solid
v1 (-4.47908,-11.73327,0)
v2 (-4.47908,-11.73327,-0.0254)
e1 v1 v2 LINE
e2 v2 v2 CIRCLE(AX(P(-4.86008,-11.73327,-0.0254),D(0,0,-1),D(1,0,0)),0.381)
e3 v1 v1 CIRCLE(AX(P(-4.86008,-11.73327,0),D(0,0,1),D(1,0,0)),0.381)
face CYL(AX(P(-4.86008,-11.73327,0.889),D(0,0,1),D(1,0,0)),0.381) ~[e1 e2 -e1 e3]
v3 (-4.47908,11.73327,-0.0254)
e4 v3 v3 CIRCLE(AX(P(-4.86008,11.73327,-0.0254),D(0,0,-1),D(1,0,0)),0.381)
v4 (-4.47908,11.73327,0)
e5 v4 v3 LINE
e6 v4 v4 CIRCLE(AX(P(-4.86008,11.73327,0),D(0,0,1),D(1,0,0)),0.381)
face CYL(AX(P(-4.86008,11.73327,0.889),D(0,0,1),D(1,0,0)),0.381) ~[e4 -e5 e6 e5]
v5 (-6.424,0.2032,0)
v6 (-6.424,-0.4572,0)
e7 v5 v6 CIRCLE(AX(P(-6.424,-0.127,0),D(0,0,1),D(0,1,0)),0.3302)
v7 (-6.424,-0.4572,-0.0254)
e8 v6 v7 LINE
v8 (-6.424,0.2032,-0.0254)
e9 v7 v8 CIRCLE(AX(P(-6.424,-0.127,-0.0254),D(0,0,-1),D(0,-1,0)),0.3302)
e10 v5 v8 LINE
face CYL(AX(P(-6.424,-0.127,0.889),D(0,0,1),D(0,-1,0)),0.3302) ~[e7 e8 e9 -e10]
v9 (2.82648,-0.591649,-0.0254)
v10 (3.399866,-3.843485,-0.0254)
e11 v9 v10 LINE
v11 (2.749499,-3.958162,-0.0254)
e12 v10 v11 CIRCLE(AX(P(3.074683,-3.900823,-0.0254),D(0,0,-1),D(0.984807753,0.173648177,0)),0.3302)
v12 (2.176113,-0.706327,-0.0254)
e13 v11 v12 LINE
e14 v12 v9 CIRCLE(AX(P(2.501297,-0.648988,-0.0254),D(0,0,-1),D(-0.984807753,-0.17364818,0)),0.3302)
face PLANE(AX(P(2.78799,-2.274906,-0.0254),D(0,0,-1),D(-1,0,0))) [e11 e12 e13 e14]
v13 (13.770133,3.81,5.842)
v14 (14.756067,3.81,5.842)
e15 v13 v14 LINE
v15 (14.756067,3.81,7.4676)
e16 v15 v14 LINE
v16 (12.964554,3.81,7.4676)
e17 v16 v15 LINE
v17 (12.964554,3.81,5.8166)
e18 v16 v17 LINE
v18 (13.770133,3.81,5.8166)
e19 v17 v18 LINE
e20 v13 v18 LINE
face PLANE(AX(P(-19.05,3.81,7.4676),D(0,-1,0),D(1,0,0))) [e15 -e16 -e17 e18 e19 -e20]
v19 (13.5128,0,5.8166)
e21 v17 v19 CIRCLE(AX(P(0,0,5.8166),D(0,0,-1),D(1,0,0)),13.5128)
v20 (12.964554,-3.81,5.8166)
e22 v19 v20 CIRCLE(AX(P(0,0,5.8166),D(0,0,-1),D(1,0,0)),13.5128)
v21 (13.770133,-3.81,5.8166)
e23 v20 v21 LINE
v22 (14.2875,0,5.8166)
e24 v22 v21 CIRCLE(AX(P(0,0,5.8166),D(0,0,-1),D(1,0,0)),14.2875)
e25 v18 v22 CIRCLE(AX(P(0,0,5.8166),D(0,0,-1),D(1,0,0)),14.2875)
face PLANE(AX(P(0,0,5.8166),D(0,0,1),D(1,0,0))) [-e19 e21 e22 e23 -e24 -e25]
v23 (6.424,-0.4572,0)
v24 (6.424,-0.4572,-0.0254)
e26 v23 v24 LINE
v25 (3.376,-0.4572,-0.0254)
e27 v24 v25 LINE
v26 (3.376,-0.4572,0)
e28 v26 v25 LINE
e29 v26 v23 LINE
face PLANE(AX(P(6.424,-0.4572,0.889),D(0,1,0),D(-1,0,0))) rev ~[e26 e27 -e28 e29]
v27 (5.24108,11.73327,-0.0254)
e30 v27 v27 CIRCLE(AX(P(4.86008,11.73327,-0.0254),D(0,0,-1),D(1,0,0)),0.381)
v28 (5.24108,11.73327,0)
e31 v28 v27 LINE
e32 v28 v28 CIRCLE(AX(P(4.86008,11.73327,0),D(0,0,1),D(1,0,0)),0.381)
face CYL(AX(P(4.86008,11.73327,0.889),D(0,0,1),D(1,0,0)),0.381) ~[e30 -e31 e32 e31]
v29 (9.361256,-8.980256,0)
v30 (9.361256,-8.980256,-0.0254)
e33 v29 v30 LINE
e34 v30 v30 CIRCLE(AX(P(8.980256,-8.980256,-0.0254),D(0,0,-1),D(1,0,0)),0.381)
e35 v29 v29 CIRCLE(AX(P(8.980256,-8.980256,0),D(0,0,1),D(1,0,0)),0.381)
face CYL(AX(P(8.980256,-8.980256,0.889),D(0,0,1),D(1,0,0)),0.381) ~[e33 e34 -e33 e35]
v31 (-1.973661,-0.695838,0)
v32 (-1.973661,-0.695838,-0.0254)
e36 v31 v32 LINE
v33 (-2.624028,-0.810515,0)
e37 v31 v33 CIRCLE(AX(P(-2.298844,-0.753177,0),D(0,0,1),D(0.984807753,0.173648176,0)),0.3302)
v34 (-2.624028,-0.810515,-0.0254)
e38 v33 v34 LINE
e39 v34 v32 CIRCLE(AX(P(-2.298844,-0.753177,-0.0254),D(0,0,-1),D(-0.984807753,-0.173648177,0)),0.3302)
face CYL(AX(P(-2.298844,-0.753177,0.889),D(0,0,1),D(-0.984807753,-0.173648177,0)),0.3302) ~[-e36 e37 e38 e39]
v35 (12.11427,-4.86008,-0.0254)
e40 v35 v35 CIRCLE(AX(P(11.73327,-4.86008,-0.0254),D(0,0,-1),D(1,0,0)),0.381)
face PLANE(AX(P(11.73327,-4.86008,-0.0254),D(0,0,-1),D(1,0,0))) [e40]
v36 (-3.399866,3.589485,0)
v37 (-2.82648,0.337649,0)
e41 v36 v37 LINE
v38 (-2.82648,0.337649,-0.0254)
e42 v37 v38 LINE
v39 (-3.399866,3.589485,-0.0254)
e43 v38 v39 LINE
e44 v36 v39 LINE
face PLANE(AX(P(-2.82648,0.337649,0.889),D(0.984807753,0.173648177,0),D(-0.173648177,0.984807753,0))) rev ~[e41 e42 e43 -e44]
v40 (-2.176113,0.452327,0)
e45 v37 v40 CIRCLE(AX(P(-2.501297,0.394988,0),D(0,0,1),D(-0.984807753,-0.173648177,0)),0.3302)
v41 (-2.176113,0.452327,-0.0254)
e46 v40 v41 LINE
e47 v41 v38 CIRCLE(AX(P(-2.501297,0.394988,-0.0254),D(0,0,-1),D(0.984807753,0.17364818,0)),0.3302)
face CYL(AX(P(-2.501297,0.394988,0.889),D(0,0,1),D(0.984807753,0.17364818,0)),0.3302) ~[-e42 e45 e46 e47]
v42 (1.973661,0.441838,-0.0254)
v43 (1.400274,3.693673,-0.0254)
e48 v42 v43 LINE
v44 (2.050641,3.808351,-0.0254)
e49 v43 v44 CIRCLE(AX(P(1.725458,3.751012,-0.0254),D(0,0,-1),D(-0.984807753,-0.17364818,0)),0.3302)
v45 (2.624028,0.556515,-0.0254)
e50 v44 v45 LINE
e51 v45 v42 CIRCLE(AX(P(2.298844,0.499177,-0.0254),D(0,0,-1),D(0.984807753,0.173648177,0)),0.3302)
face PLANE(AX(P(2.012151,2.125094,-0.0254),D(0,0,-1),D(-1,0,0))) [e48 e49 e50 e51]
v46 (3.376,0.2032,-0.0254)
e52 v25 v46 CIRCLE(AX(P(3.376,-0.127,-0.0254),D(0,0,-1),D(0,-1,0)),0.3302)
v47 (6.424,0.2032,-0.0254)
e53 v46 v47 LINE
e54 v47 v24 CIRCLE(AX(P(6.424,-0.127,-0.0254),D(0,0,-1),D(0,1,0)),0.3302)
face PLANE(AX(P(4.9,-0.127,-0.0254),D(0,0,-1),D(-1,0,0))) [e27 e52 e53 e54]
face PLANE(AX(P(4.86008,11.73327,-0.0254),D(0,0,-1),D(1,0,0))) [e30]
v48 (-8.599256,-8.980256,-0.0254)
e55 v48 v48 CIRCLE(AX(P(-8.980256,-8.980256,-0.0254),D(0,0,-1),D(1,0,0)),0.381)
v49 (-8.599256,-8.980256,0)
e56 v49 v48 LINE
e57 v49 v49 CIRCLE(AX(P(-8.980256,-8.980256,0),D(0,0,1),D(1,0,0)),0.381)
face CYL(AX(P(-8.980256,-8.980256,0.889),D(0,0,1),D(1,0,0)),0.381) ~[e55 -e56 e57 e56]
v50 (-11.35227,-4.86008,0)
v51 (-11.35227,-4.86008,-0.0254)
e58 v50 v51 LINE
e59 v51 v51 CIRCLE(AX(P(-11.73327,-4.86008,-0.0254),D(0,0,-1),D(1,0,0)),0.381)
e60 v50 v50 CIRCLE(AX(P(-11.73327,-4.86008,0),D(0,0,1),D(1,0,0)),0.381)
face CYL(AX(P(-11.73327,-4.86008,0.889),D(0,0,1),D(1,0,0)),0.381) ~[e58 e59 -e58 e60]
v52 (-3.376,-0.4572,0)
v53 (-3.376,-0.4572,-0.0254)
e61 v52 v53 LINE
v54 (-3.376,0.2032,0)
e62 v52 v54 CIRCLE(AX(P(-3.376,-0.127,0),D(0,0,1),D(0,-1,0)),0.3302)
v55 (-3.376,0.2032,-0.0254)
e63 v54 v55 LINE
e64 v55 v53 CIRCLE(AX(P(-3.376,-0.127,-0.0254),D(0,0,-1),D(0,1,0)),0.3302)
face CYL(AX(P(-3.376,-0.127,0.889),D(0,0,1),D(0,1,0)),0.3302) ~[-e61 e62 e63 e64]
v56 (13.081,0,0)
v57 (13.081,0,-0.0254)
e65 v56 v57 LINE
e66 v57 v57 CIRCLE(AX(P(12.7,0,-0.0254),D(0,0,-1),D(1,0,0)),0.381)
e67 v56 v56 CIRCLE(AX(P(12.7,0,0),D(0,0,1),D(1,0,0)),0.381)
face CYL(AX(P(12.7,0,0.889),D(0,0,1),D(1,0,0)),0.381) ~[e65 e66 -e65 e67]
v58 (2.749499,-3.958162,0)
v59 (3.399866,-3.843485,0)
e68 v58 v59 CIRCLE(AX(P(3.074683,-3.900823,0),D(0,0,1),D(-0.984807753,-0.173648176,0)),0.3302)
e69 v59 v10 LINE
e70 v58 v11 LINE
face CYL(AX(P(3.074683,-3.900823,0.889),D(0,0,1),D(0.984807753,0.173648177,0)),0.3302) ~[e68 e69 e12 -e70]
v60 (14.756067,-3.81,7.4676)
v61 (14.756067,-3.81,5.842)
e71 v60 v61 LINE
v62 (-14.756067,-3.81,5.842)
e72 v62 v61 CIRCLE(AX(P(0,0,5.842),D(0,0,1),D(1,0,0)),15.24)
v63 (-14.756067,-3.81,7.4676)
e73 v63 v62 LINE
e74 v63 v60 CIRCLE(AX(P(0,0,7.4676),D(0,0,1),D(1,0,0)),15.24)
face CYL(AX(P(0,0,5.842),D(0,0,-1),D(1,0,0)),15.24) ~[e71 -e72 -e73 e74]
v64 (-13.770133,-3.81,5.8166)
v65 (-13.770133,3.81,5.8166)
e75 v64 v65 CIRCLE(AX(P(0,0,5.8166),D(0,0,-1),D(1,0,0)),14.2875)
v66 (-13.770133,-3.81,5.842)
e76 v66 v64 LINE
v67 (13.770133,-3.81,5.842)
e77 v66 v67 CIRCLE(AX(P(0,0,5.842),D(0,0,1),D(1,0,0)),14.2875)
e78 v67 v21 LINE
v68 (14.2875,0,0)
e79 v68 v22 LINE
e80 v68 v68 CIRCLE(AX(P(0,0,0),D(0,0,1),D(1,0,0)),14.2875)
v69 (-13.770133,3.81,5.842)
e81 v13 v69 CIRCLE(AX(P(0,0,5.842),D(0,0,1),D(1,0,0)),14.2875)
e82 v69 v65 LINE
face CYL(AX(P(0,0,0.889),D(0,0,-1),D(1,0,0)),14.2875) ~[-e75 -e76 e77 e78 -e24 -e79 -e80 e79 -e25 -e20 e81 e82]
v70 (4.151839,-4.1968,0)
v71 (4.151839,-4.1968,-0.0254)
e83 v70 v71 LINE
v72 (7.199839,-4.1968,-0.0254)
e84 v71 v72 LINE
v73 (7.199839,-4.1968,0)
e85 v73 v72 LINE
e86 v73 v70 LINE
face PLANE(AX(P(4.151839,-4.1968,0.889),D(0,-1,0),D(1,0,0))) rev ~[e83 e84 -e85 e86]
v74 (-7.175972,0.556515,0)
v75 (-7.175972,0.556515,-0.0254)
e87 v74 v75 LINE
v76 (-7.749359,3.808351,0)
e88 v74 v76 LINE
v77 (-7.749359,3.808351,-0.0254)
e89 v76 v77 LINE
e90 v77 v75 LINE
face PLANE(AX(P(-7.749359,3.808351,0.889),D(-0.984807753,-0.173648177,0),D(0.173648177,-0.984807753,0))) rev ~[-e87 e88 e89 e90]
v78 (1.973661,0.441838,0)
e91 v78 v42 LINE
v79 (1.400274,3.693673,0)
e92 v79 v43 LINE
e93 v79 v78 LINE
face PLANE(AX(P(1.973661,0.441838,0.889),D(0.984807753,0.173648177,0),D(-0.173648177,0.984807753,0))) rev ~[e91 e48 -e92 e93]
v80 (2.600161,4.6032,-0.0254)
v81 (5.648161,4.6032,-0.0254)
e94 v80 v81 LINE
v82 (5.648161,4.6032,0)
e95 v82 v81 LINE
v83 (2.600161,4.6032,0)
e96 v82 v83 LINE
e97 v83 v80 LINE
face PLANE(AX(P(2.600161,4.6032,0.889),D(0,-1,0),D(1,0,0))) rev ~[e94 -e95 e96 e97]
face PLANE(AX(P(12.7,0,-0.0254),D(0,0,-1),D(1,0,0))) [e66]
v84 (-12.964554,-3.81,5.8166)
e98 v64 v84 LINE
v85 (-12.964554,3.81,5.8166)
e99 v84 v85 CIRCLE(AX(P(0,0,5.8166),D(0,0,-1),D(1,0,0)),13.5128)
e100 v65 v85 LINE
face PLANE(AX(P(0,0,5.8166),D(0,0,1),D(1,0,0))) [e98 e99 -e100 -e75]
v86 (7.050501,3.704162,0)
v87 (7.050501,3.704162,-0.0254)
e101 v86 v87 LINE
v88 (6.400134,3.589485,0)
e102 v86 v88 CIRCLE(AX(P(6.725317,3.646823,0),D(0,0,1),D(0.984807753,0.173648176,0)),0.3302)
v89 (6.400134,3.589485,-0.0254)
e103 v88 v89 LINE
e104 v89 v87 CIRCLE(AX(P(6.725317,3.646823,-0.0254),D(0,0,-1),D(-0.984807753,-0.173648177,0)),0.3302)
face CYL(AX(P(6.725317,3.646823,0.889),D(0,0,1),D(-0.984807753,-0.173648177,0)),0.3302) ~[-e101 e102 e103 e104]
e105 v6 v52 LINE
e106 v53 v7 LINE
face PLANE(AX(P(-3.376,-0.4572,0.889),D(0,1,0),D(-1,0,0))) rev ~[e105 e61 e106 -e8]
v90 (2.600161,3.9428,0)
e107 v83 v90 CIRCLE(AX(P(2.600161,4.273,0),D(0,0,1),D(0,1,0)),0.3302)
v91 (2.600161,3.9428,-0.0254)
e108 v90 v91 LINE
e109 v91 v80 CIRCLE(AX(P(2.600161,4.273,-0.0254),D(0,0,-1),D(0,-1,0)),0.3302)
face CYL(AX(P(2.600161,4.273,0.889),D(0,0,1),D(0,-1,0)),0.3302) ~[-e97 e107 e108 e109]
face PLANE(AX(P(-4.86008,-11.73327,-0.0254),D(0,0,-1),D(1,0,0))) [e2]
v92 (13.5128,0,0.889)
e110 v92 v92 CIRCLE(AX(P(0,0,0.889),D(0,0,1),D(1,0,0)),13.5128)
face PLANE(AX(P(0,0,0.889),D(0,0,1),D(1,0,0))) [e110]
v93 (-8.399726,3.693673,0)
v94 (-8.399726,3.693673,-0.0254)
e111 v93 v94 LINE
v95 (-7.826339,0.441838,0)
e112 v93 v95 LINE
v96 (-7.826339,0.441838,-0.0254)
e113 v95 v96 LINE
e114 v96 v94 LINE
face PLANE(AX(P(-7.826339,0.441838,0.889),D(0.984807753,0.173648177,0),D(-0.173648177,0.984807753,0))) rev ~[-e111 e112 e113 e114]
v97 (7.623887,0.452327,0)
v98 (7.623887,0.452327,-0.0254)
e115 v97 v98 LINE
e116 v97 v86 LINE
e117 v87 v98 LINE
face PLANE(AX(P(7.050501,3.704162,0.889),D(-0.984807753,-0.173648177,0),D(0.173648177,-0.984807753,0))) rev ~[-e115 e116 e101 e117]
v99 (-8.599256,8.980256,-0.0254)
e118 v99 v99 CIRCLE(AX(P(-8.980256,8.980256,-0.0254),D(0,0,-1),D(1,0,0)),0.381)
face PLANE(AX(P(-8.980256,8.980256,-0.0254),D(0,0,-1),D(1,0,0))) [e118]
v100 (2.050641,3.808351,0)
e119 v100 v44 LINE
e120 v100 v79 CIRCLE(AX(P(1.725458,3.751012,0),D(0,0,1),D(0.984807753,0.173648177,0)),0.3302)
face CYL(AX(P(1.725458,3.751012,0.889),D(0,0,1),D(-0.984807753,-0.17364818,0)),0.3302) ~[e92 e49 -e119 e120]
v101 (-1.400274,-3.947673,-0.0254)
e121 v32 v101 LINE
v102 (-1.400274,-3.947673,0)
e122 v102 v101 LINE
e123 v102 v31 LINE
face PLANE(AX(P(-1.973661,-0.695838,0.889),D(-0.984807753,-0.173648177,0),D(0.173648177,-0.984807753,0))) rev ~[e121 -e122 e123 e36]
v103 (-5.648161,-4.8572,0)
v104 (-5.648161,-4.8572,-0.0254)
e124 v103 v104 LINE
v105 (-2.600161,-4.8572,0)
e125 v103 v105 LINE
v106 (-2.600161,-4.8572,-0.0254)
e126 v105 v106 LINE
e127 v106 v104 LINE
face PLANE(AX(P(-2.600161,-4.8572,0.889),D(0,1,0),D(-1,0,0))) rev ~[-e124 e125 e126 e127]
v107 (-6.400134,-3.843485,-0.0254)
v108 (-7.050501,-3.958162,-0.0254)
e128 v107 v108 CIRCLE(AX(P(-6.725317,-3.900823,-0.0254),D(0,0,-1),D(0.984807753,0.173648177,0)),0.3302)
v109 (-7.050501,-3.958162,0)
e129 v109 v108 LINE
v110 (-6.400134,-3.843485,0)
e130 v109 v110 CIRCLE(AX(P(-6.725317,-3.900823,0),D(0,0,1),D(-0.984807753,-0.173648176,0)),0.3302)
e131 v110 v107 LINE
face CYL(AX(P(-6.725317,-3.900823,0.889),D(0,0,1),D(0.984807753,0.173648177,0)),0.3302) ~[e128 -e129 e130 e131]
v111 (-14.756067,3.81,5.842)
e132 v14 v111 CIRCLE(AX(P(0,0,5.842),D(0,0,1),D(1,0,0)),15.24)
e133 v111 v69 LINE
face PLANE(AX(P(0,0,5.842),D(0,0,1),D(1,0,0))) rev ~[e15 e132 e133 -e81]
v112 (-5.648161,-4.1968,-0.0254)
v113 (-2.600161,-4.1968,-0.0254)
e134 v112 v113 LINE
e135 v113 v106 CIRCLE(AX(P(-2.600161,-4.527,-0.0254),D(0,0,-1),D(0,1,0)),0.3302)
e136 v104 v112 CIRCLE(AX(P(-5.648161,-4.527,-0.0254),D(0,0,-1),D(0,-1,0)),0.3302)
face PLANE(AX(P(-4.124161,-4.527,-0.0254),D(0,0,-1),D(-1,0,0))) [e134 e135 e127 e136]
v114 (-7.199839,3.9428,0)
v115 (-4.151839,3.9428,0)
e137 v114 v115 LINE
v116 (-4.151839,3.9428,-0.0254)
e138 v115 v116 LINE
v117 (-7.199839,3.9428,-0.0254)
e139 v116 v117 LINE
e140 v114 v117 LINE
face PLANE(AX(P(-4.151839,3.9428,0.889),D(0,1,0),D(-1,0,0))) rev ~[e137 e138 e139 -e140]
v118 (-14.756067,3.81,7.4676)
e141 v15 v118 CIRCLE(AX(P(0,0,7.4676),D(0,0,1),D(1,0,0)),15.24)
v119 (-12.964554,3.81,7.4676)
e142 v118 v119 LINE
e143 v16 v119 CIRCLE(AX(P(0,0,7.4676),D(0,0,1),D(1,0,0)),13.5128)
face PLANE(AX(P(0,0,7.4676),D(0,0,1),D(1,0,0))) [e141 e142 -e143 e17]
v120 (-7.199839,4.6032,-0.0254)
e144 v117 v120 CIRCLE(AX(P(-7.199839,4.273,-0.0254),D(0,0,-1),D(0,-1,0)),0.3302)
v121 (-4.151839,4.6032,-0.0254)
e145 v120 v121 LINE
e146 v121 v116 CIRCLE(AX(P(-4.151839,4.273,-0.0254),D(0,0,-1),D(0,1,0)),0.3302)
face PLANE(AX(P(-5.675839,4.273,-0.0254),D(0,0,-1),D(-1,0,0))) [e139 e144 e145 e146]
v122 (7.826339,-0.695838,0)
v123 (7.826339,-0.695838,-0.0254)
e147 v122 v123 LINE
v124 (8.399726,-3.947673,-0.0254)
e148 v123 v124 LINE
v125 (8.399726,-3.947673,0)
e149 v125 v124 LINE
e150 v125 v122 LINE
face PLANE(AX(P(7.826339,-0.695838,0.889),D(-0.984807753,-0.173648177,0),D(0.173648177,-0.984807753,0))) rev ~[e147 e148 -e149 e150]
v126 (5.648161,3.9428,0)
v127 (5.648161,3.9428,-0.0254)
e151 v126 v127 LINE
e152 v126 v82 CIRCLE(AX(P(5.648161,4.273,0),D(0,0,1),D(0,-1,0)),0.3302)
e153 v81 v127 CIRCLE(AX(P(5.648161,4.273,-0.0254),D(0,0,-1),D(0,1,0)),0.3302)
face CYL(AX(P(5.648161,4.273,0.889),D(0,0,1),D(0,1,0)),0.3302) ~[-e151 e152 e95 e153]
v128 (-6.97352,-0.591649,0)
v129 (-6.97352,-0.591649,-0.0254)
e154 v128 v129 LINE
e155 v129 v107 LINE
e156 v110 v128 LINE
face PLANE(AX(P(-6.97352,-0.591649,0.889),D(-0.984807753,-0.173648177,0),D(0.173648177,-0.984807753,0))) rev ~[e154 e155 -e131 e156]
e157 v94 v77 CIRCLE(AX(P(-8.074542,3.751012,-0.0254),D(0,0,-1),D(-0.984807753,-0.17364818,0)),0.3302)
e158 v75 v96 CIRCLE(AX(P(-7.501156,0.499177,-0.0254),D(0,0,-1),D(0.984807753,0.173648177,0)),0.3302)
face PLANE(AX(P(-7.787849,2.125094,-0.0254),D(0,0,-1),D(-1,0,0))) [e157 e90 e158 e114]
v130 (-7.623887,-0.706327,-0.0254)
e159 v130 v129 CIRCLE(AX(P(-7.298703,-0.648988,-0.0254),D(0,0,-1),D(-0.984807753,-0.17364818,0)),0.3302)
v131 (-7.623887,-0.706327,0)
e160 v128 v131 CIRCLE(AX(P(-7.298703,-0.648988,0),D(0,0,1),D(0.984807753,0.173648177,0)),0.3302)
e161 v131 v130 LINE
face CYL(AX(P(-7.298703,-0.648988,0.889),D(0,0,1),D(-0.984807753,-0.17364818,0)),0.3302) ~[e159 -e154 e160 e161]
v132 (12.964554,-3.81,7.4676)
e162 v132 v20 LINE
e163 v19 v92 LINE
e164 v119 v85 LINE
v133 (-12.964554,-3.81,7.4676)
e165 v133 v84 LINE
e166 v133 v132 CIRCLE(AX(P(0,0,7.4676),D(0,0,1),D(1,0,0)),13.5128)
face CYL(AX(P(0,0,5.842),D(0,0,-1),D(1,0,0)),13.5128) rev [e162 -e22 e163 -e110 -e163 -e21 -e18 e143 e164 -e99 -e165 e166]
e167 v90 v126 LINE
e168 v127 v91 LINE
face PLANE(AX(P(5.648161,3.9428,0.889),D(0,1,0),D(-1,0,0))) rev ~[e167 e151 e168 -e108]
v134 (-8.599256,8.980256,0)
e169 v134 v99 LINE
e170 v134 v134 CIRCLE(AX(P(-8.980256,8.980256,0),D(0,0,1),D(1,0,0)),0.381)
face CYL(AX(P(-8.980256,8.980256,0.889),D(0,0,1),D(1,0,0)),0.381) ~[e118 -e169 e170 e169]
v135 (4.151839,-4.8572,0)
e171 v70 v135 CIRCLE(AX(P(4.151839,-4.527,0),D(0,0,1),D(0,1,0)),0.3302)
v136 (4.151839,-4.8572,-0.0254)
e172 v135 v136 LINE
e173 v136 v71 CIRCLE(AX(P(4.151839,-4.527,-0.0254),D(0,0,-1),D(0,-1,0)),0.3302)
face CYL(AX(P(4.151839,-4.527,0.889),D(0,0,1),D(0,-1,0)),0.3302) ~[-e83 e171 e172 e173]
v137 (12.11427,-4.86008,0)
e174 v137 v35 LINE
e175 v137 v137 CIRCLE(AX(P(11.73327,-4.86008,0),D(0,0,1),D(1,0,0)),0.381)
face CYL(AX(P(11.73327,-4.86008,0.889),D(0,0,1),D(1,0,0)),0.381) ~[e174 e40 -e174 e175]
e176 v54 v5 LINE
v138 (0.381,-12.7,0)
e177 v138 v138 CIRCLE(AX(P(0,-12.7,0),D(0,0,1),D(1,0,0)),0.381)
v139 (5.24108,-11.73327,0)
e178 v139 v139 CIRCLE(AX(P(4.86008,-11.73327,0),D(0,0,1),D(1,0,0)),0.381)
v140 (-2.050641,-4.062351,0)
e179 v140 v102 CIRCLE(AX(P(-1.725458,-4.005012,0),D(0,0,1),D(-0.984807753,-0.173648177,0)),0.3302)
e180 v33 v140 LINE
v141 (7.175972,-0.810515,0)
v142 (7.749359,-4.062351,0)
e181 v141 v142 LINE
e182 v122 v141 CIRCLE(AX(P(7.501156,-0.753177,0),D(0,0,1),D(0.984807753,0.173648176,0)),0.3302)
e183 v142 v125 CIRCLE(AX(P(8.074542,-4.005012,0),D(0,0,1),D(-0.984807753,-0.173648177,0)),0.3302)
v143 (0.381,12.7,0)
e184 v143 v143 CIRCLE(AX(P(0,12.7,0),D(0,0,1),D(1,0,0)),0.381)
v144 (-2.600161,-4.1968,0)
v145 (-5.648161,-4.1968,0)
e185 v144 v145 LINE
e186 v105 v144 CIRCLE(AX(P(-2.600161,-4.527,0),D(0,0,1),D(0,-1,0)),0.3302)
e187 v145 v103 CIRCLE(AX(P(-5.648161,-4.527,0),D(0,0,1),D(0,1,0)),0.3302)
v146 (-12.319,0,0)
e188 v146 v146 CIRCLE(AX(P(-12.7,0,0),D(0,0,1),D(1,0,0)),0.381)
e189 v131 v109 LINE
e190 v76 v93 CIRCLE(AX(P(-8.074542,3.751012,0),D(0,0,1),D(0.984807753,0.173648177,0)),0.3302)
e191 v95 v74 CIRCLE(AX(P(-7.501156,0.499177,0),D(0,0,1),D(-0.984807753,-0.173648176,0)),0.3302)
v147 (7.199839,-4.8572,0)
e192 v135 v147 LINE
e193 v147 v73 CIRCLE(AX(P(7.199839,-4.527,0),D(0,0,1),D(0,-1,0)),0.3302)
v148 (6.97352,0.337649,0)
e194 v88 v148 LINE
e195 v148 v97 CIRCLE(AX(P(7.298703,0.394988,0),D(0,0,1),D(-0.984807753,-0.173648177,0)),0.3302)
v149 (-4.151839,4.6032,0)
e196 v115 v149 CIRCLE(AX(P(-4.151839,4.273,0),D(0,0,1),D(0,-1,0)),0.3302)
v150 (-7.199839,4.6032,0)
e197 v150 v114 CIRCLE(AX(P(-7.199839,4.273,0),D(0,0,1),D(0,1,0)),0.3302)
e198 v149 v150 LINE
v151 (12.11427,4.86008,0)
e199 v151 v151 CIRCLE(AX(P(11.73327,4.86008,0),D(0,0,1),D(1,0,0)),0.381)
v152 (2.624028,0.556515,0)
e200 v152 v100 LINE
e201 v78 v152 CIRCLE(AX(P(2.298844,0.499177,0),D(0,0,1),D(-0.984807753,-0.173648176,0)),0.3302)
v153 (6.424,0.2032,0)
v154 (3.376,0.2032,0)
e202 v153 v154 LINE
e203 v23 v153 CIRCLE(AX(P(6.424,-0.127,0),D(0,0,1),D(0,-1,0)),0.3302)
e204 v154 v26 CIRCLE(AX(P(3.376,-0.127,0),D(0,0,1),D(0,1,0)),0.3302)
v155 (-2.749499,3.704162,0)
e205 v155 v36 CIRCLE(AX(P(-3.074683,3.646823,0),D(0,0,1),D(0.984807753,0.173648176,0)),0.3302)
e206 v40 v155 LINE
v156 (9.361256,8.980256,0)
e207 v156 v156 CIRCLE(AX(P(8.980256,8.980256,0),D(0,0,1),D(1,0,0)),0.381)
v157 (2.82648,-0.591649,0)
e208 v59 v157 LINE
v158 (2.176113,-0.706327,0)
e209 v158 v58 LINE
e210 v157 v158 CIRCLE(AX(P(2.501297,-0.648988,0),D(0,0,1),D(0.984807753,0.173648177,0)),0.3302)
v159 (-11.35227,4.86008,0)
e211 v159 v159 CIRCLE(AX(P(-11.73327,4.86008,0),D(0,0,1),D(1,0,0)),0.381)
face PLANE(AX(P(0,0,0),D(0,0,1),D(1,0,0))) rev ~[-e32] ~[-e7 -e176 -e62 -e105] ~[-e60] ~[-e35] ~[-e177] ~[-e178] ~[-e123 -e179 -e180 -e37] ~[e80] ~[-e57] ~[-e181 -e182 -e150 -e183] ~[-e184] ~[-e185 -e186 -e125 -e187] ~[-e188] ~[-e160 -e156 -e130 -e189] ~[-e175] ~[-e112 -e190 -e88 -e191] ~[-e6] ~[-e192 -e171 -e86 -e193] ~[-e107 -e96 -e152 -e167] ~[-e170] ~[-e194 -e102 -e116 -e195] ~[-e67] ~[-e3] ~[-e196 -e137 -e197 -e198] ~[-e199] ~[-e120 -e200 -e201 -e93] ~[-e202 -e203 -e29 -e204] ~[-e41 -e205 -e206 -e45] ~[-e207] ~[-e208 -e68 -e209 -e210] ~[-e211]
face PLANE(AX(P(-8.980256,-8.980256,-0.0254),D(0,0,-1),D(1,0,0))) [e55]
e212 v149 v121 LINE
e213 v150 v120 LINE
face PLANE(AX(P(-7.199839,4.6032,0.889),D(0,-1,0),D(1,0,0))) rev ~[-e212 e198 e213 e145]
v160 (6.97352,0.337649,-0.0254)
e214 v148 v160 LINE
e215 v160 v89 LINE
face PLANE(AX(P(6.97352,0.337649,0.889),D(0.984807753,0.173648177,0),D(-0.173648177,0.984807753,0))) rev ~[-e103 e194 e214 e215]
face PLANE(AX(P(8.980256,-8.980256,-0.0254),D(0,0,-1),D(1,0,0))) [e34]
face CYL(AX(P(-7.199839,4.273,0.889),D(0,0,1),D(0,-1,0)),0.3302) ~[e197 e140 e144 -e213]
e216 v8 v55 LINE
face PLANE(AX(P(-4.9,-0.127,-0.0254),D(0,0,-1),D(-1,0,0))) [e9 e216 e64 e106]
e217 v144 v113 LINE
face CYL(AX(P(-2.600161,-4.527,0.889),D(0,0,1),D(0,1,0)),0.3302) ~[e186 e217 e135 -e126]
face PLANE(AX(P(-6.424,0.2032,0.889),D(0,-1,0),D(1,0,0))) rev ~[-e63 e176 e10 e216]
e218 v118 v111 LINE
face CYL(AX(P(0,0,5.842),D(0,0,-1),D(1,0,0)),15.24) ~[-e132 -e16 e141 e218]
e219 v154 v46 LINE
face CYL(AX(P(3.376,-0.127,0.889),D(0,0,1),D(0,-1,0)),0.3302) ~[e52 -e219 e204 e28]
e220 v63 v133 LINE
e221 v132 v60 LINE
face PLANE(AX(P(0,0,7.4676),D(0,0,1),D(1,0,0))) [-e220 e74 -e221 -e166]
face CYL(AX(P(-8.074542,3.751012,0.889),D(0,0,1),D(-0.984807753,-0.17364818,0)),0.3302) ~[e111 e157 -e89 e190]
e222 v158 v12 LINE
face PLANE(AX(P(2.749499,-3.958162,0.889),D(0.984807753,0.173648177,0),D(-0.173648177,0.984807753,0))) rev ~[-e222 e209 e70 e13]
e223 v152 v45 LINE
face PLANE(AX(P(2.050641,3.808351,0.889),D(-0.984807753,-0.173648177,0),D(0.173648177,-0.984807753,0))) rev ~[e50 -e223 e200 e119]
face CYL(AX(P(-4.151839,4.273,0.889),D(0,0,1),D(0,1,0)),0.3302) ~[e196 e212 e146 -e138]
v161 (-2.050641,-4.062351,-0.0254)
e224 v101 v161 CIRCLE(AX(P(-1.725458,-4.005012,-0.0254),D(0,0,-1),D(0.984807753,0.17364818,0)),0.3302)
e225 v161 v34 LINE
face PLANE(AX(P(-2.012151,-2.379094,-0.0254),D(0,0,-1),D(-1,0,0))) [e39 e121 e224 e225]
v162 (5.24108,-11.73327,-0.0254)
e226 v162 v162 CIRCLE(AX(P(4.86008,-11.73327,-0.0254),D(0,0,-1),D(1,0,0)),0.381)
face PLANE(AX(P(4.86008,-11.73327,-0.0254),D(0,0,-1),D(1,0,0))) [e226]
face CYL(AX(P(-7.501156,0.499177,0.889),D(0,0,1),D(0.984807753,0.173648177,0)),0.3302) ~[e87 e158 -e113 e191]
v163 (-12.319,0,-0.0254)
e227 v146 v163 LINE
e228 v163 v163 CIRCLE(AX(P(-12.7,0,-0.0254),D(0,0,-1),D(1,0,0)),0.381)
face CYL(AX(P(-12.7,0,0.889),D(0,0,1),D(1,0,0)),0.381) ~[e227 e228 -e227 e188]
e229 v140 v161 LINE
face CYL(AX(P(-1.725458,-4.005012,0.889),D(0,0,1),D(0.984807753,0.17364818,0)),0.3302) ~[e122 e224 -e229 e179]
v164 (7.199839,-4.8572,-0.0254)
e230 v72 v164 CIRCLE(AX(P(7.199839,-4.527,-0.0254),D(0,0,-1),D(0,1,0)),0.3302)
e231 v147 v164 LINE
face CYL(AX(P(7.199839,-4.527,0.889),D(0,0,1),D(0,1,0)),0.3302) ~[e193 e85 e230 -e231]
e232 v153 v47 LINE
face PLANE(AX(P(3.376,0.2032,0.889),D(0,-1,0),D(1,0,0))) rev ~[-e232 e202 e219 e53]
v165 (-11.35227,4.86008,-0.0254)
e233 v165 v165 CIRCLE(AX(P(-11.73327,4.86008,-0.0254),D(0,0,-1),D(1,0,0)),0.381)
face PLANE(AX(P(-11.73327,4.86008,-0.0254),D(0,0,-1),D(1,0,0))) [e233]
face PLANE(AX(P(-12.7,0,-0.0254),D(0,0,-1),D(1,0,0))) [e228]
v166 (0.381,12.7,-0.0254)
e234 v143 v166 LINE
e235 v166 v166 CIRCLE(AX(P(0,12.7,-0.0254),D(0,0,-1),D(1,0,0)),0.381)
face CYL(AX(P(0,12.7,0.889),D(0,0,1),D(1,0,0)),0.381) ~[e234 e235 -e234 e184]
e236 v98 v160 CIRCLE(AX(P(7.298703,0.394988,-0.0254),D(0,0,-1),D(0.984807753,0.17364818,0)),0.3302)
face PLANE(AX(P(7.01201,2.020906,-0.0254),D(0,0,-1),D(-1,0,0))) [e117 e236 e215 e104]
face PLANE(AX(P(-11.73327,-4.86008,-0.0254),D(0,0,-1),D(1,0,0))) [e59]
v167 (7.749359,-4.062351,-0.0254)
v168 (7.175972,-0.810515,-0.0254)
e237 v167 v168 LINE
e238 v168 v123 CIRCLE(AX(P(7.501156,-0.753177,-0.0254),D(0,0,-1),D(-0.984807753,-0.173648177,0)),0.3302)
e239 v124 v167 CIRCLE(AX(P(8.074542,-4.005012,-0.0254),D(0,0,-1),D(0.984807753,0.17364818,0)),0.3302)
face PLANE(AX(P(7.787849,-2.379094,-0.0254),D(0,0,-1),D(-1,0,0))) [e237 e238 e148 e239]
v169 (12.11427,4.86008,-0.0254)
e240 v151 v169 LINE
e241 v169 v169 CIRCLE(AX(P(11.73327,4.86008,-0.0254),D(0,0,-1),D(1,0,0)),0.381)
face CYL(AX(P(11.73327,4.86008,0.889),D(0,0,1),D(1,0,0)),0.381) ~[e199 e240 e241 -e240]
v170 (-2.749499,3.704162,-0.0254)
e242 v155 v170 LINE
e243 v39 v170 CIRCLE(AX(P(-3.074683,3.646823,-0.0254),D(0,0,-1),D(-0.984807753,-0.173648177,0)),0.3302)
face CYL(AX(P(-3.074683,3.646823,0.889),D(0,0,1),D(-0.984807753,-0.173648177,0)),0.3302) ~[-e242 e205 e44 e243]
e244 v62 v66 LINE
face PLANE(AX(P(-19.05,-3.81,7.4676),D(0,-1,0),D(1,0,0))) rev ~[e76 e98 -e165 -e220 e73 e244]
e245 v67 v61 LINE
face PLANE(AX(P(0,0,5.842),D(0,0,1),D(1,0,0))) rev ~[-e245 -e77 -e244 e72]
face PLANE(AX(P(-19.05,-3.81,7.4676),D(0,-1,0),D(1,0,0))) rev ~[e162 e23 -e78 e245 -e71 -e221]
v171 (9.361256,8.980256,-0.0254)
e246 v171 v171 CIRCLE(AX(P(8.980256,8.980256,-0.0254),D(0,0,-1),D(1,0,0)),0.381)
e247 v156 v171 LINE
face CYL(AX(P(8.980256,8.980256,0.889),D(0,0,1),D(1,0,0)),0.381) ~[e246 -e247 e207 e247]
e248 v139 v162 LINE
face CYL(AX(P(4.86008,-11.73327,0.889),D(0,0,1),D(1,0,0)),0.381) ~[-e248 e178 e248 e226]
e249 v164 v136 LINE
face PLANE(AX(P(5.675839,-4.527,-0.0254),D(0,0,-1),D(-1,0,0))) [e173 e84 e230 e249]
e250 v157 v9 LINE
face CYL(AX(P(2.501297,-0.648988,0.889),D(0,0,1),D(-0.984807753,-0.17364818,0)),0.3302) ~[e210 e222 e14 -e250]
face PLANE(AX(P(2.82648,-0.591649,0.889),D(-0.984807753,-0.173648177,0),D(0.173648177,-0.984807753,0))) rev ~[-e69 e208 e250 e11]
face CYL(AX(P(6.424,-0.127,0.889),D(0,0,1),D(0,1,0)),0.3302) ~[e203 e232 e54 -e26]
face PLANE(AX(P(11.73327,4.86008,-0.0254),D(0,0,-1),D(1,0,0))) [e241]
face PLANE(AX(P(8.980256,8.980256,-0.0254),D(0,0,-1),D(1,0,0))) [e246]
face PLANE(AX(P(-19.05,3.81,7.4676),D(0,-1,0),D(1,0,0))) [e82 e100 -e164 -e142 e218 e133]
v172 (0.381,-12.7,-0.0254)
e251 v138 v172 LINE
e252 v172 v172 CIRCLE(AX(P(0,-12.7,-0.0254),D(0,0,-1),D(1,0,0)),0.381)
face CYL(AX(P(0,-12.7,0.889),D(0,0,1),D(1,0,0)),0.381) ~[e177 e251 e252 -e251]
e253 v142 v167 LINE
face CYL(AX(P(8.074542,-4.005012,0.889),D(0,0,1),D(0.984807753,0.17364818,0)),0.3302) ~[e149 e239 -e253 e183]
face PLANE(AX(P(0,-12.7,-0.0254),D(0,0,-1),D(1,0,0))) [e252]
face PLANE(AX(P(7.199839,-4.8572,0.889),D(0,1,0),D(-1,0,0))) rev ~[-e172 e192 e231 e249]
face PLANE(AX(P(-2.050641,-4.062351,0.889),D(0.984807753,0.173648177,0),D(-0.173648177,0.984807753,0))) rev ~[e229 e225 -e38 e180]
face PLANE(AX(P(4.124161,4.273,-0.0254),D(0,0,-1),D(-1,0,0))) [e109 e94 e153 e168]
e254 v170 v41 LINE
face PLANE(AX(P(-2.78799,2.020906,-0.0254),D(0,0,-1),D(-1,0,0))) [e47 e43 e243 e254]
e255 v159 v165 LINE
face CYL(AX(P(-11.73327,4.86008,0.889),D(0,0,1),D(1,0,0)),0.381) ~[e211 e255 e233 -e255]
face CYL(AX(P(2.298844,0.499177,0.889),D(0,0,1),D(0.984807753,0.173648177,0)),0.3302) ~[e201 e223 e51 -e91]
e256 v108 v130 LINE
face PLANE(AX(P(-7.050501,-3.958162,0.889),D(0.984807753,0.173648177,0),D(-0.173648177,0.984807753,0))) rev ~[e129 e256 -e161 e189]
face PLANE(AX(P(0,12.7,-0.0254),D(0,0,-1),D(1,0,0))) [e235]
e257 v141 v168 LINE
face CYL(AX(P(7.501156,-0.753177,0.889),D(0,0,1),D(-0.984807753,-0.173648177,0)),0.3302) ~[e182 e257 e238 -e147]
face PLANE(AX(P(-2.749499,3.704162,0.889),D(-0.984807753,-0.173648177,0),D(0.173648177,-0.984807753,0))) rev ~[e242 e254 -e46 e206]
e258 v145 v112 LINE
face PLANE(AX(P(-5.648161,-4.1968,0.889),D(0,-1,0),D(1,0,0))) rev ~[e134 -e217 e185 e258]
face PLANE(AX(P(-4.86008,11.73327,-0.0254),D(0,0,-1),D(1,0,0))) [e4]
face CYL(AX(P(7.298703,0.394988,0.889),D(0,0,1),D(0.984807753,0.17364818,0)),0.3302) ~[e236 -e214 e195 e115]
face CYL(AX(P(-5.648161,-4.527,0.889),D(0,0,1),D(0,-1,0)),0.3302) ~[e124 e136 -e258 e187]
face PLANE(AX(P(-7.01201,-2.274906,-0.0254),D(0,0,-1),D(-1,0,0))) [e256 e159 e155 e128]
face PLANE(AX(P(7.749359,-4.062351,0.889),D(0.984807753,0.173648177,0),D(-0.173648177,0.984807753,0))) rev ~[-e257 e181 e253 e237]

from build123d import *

# Parameters (mm, degrees)
SKETCH1_R           = 14.2875
BOSS_EXTRUDE1_DEPTH = 0.889
SKETCH2_R           = 14.2875
SKETCH2_R_2         = 13.5128
BOSS_EXTRUDE2_DEPTH = 4.953
SKETCH3_R           = 15.24
SKETCH3_R_2         = 13.5128
BOSS_EXTRUDE3_DEPTH = 1.6256
SKETCH4_W           = 38.1
SKETCH4_H           = 7.62
CUT_EXTRUDE1_DEPTH  = 1.651
SKETCH5_R           = 0.381
CUT_EXTRUDE2_DEPTH  = 23.480911787
SKETCH7_R           = 0.381
BOSS_EXTRUDE5_DEPTH = 0.9144


with BuildPart() as part:
    # Sketch1 → Boss-Extrude1 (new body)
    with BuildSketch(Plane.XY):
        Circle(SKETCH1_R)
    extrude(amount=BOSS_EXTRUDE1_DEPTH)

    # Sketch2 → Boss-Extrude2 (add)
    with BuildSketch(Plane.XY.offset(0.889)):
        Circle(SKETCH2_R)
        Circle(SKETCH2_R_2, mode=Mode.SUBTRACT)
    extrude(amount=BOSS_EXTRUDE2_DEPTH)

    # Sketch3 → Boss-Extrude3 (add)
    with BuildSketch(Plane.XY.offset(5.842)):
        Circle(SKETCH3_R)
        Circle(SKETCH3_R_2, mode=Mode.SUBTRACT)
    extrude(amount=BOSS_EXTRUDE3_DEPTH)

    # Sketch4 → Cut-Extrude1 (cut)
    with BuildSketch(Plane.XY.offset(7.4676)):
        Rectangle(SKETCH4_W, SKETCH4_H)
    extrude(amount=-CUT_EXTRUDE1_DEPTH, mode=Mode.SUBTRACT)

    # Sketch5 → Cut-Extrude2 (cut, through all)
    with BuildSketch(Plane.XY.offset(7.4426)):
        with Locations((0, 12.7)):
            Circle(SKETCH5_R)
        with Locations((4.860079591, 11.733270063)):
            Circle(SKETCH5_R)
        with Locations((8.980256121, 8.980256121)):
            Circle(SKETCH5_R)
        with Locations((11.733270063, 4.860079591)):
            Circle(SKETCH5_R)
        with Locations((12.7, 0)):
            Circle(SKETCH5_R)
        with Locations((11.733270063, -4.860079591)):
            Circle(SKETCH5_R)
        with Locations((8.980256121, -8.980256121)):
            Circle(SKETCH5_R)
        with Locations((4.860079591, -11.733270063)):
            Circle(SKETCH5_R)
        with Locations((0, -12.7)):
            Circle(SKETCH5_R)
        with Locations((-4.860079591, -11.733270063)):
            Circle(SKETCH5_R)
        with Locations((-8.980256121, -8.980256121)):
            Circle(SKETCH5_R)
        with Locations((-11.733270063, -4.860079591)):
            Circle(SKETCH5_R)
        with Locations((-12.7, 0)):
            Circle(SKETCH5_R)
        with Locations((-11.733270063, 4.860079591)):
            Circle(SKETCH5_R)
        with Locations((-8.980256121, 8.980256121)):
            Circle(SKETCH5_R)
        with Locations((-4.860079591, 11.733270063)):
            Circle(SKETCH5_R)
        with BuildLine():
            Line((-2.176113006, 0.452326575), (-2.749499288, 3.704161775))
            ThreePointArc((-2.749499288, 3.704161775), (-3.132021437, 3.972006667), (-3.399866328, 3.589484519))
            Line((-3.399866328, 3.589484519), (-2.826480046, 0.337649318))
            ThreePointArc((-2.826480046, 0.337649318), (-2.443957897, 0.069804426), (-2.176113006, 0.452326575))
        make_face()
        with BuildLine():
            Line((-6.400133672, -3.843484519), (-6.973519954, -0.591649318))
            ThreePointArc((-6.973519954, -0.591649318), (-7.356042103, -0.323804426), (-7.623886994, -0.706326575))
            Line((-7.623886994, -0.706326575), (-7.050500712, -3.958161775))
            ThreePointArc((-7.050500712, -3.958161775), (-6.667978563, -4.226006667), (-6.400133672, -3.843484519))
        make_face()
        with BuildLine():
            Line((-1.400274291, -3.947673425), (-1.973660573, -0.695838225))
            ThreePointArc((-1.973660573, -0.695838225), (-2.356182722, -0.427993333), (-2.624027613, -0.810515481))
            Line((-2.624027613, -0.810515481), (-2.050641331, -4.062350682))
            ThreePointArc((-2.050641331, -4.062350682), (-1.668119182, -4.330195574), (-1.400274291, -3.947673425))
        make_face()
        with BuildLine():
            Line((-7.175972387, 0.556515481), (-7.749358669, 3.808350682))
            ThreePointArc((-7.749358669, 3.808350682), (-8.131880818, 4.076195574), (-8.399725709, 3.693673425))
            Line((-8.399725709, 3.693673425), (-7.826339427, 0.441838225))
            ThreePointArc((-7.826339427, 0.441838225), (-7.443817278, 0.173993333), (-7.175972387, 0.556515481))
        make_face()
        with BuildLine():
            Line((-3.376, 0.2032), (-6.424, 0.2032))
            ThreePointArc((-6.424, 0.2032), (-6.7542, -0.127), (-6.424, -0.4572))
            Line((-6.424, -0.4572), (-3.376, -0.4572))
            ThreePointArc((-3.376, -0.4572), (-3.0458, -0.127), (-3.376, 0.2032))
        make_face()
        with BuildLine():
            Line((-2.600161285, -4.1968), (-5.648161285, -4.1968))
            ThreePointArc((-5.648161285, -4.1968), (-5.978361285, -4.527), (-5.648161285, -4.8572))
            Line((-5.648161285, -4.8572), (-2.600161285, -4.8572))
            ThreePointArc((-2.600161285, -4.8572), (-2.269961285, -4.527), (-2.600161285, -4.1968))
        make_face()
        with BuildLine():
            Line((-4.151838715, 4.6032), (-7.199838715, 4.6032))
            ThreePointArc((-7.199838715, 4.6032), (-7.530038715, 4.273), (-7.199838715, 3.9428))
            Line((-7.199838715, 3.9428), (-4.151838715, 3.9428))
            ThreePointArc((-4.151838715, 3.9428), (-3.821638715, 4.273), (-4.151838715, 4.6032))
        make_face()
        with BuildLine():
            Line((7.623886994, 0.452326575), (7.050500712, 3.704161775))
            ThreePointArc((7.050500712, 3.704161775), (6.667978563, 3.972006667), (6.400133672, 3.589484519))
            Line((6.400133672, 3.589484519), (6.973519954, 0.337649318))
            ThreePointArc((6.973519954, 0.337649318), (7.356042103, 0.069804426), (7.623886994, 0.452326575))
        make_face()
        with BuildLine():
            Line((3.399866328, -3.843484519), (2.826480046, -0.591649318))
            ThreePointArc((2.826480046, -0.591649318), (2.443957897, -0.323804426), (2.176113006, -0.706326575))
            Line((2.176113006, -0.706326575), (2.749499288, -3.958161775))
            ThreePointArc((2.749499288, -3.958161775), (3.132021437, -4.226006667), (3.399866328, -3.843484519))
        make_face()
        with BuildLine():
            Line((8.399725709, -3.947673425), (7.826339427, -0.695838225))
            ThreePointArc((7.826339427, -0.695838225), (7.443817278, -0.427993333), (7.175972387, -0.810515481))
            Line((7.175972387, -0.810515481), (7.749358669, -4.062350682))
            ThreePointArc((7.749358669, -4.062350682), (8.131880818, -4.330195574), (8.399725709, -3.947673425))
        make_face()
        with BuildLine():
            Line((2.624027613, 0.556515481), (2.050641331, 3.808350682))
            ThreePointArc((2.050641331, 3.808350682), (1.668119182, 4.076195574), (1.400274291, 3.693673425))
            Line((1.400274291, 3.693673425), (1.973660573, 0.441838225))
            ThreePointArc((1.973660573, 0.441838225), (2.356182722, 0.173993333), (2.624027613, 0.556515481))
        make_face()
        with BuildLine():
            Line((6.424, 0.2032), (3.376, 0.2032))
            ThreePointArc((3.376, 0.2032), (3.0458, -0.127), (3.376, -0.4572))
            Line((3.376, -0.4572), (6.424, -0.4572))
            ThreePointArc((6.424, -0.4572), (6.7542, -0.127), (6.424, 0.2032))
        make_face()
        with BuildLine():
            Line((7.199838715, -4.1968), (4.151838715, -4.1968))
            ThreePointArc((4.151838715, -4.1968), (3.821638715, -4.527), (4.151838715, -4.8572))
            Line((4.151838715, -4.8572), (7.199838715, -4.8572))
            ThreePointArc((7.199838715, -4.8572), (7.530038715, -4.527), (7.199838715, -4.1968))
        make_face()
        with BuildLine():
            Line((5.648161285, 4.6032), (2.600161285, 4.6032))
            ThreePointArc((2.600161285, 4.6032), (2.269961285, 4.273), (2.600161285, 3.9428))
            Line((2.600161285, 3.9428), (5.648161285, 3.9428))
            ThreePointArc((5.648161285, 3.9428), (5.978361285, 4.273), (5.648161285, 4.6032))
        make_face()
    extrude(amount=-CUT_EXTRUDE2_DEPTH, mode=Mode.SUBTRACT)

    # Sketch7 → Boss-Extrude5 (add)
    with BuildSketch(Plane(origin=(0, 0, 0.889), x_dir=(-1, 0, 0), z_dir=(0, 0, -1))):
        with Locations(Location((-11.733270063, 4.860079591, 0), (0, 0, 180))):
            Circle(SKETCH7_R)
        with Locations(Location((-8.980256121, 8.980256121, 0), (0, 0, 180))):
            Circle(SKETCH7_R)
        with Locations(Location((-4.860079591, 11.733270063, 0), (0, 0, 180))):
            Circle(SKETCH7_R)
        with Locations(Location((0, 12.7, 0), (0, 0, 180))):
            Circle(SKETCH7_R)
        with Locations(Location((4.860079591, -11.733270063, 0), (0, 0, 180))):
            Circle(SKETCH7_R)
        with Locations(Location((0, -12.7, 0), (0, 0, 180))):
            Circle(SKETCH7_R)
        with Locations(Location((-4.860079591, -11.733270063, 0), (0, 0, 180))):
            Circle(SKETCH7_R)
        with Locations(Location((-8.980256121, -8.980256121, 0), (0, 0, 180))):
            Circle(SKETCH7_R)
        with Locations(Location((-11.733270063, -4.860079591, 0), (0, 0, 180))):
            Circle(SKETCH7_R)
        with Locations(Location((-12.7, 0, 0), (0, 0, 180))):
            Circle(SKETCH7_R)
        with Locations(Location((4.860079591, 11.733270063, 0), (0, 0, 180))):
            Circle(SKETCH7_R)
        with Locations(Location((8.980256121, 8.980256121, 0), (0, 0, 180))):
            Circle(SKETCH7_R)
        with Locations(Location((11.733270063, 4.860079591, 0), (0, 0, 180))):
            Circle(SKETCH7_R)
        with Locations(Location((12.7, 0, 0), (0, 0, 180))):
            Circle(SKETCH7_R)
        with Locations(Location((11.733270063, -4.860079591, 0), (0, 0, 180))):
            Circle(SKETCH7_R)
        with Locations(Location((8.980256121, -8.980256121, 0), (0, 0, 180))):
            Circle(SKETCH7_R)
        with BuildLine():
            Line((2.749499288, 3.704161775), (2.176113006, 0.452326575))
            ThreePointArc((2.176113006, 0.452326575), (2.443957897, 0.069804426), (2.826480046, 0.337649318))
            Line((2.826480046, 0.337649318), (3.399866328, 3.589484519))
            ThreePointArc((3.399866328, 3.589484519), (3.132021437, 3.972006667), (2.749499288, 3.704161775))
        make_face()
        with BuildLine():
            Line((1.973660573, -0.695838225), (1.400274291, -3.947673425))
            ThreePointArc((1.400274291, -3.947673425), (1.668119182, -4.330195574), (2.050641331, -4.062350682))
            Line((2.050641331, -4.062350682), (2.624027613, -0.810515481))
            ThreePointArc((2.624027613, -0.810515481), (2.356182722, -0.427993333), (1.973660573, -0.695838225))
        make_face()
        with BuildLine():
            Line((7.050500712, -3.958161775), (7.623886994, -0.706326575))
            ThreePointArc((7.623886994, -0.706326575), (7.356042103, -0.323804426), (6.973519954, -0.591649318))
            Line((6.973519954, -0.591649318), (6.400133672, -3.843484519))
            ThreePointArc((6.400133672, -3.843484519), (6.667978563, -4.226006667), (7.050500712, -3.958161775))
        make_face()
        with BuildLine():
            Line((5.648161285, -4.1968), (2.600161285, -4.1968))
            ThreePointArc((2.600161285, -4.1968), (2.269961285, -4.527), (2.600161285, -4.8572))
            Line((2.600161285, -4.8572), (5.648161285, -4.8572))
            ThreePointArc((5.648161285, -4.8572), (5.978361285, -4.527), (5.648161285, -4.1968))
        make_face()
        with BuildLine():
            Line((6.424, 0.2032), (3.376, 0.2032))
            ThreePointArc((3.376, 0.2032), (3.0458, -0.127), (3.376, -0.4572))
            Line((3.376, -0.4572), (6.424, -0.4572))
            ThreePointArc((6.424, -0.4572), (6.7542, -0.127), (6.424, 0.2032))
        make_face()
        with BuildLine():
            Line((7.749358669, 3.808350682), (7.175972387, 0.556515481))
            ThreePointArc((7.175972387, 0.556515481), (7.443817278, 0.173993333), (7.826339427, 0.441838225))
            Line((7.826339427, 0.441838225), (8.399725709, 3.693673425))
            ThreePointArc((8.399725709, 3.693673425), (8.131880818, 4.076195574), (7.749358669, 3.808350682))
        make_face()
        with BuildLine():
            Line((-2.826480046, -0.591649318), (-3.399866328, -3.843484519))
            ThreePointArc((-3.399866328, -3.843484519), (-3.132021437, -4.226006667), (-2.749499288, -3.958161775))
            Line((-2.749499288, -3.958161775), (-2.176113006, -0.706326575))
            ThreePointArc((-2.176113006, -0.706326575), (-2.443957897, -0.323804426), (-2.826480046, -0.591649318))
        make_face()
        with BuildLine():
            Line((-7.050500712, 3.704161775), (-7.623886994, 0.452326575))
            ThreePointArc((-7.623886994, 0.452326575), (-7.356042103, 0.069804426), (-6.973519954, 0.337649318))
            Line((-6.973519954, 0.337649318), (-6.400133672, 3.589484519))
            ThreePointArc((-6.400133672, 3.589484519), (-6.667978563, 3.972006667), (-7.050500712, 3.704161775))
        make_face()
        with BuildLine():
            Line((4.151838715, 3.9428), (7.199838715, 3.9428))
            ThreePointArc((7.199838715, 3.9428), (7.530038715, 4.273), (7.199838715, 4.6032))
            Line((7.199838715, 4.6032), (4.151838715, 4.6032))
            ThreePointArc((4.151838715, 4.6032), (3.821638715, 4.273), (4.151838715, 3.9428))
        make_face()
        with BuildLine():
            Line((-2.050641331, 3.808350682), (-2.624027613, 0.556515481))
            ThreePointArc((-2.624027613, 0.556515481), (-2.356182722, 0.173993333), (-1.973660573, 0.441838225))
            Line((-1.973660573, 0.441838225), (-1.400274291, 3.693673425))
            ThreePointArc((-1.400274291, 3.693673425), (-1.668119182, 4.076195574), (-2.050641331, 3.808350682))
        make_face()
        with BuildLine():
            Line((-7.749358669, -4.062350682), (-7.175972387, -0.810515481))
            ThreePointArc((-7.175972387, -0.810515481), (-7.443817278, -0.427993333), (-7.826339427, -0.695838225))
            Line((-7.826339427, -0.695838225), (-8.399725709, -3.947673425))
            ThreePointArc((-8.399725709, -3.947673425), (-8.131880818, -4.330195574), (-7.749358669, -4.062350682))
        make_face()
        with BuildLine():
            Line((-2.600161285, 4.6032), (-5.648161285, 4.6032))
            ThreePointArc((-5.648161285, 4.6032), (-5.978361285, 4.273), (-5.648161285, 3.9428))
            Line((-5.648161285, 3.9428), (-2.600161285, 3.9428))
            ThreePointArc((-2.600161285, 3.9428), (-2.269961285, 4.273), (-2.600161285, 4.6032))
        make_face()
        with BuildLine():
            Line((-4.151838715, -4.1968), (-7.199838715, -4.1968))
            ThreePointArc((-7.199838715, -4.1968), (-7.530038715, -4.527), (-7.199838715, -4.8572))
            Line((-7.199838715, -4.8572), (-4.151838715, -4.8572))
            ThreePointArc((-4.151838715, -4.8572), (-3.821638715, -4.527), (-4.151838715, -4.1968))
        make_face()
        with BuildLine():
            Line((-3.376, 0.2032), (-6.424, 0.2032))
            ThreePointArc((-6.424, 0.2032), (-6.7542, -0.127), (-6.424, -0.4572))
            Line((-6.424, -0.4572), (-3.376, -0.4572))
            ThreePointArc((-3.376, -0.4572), (-3.0458, -0.127), (-3.376, 0.2032))
        make_face()
    extrude(amount=BOSS_EXTRUDE5_DEPTH)


solid = part.part
